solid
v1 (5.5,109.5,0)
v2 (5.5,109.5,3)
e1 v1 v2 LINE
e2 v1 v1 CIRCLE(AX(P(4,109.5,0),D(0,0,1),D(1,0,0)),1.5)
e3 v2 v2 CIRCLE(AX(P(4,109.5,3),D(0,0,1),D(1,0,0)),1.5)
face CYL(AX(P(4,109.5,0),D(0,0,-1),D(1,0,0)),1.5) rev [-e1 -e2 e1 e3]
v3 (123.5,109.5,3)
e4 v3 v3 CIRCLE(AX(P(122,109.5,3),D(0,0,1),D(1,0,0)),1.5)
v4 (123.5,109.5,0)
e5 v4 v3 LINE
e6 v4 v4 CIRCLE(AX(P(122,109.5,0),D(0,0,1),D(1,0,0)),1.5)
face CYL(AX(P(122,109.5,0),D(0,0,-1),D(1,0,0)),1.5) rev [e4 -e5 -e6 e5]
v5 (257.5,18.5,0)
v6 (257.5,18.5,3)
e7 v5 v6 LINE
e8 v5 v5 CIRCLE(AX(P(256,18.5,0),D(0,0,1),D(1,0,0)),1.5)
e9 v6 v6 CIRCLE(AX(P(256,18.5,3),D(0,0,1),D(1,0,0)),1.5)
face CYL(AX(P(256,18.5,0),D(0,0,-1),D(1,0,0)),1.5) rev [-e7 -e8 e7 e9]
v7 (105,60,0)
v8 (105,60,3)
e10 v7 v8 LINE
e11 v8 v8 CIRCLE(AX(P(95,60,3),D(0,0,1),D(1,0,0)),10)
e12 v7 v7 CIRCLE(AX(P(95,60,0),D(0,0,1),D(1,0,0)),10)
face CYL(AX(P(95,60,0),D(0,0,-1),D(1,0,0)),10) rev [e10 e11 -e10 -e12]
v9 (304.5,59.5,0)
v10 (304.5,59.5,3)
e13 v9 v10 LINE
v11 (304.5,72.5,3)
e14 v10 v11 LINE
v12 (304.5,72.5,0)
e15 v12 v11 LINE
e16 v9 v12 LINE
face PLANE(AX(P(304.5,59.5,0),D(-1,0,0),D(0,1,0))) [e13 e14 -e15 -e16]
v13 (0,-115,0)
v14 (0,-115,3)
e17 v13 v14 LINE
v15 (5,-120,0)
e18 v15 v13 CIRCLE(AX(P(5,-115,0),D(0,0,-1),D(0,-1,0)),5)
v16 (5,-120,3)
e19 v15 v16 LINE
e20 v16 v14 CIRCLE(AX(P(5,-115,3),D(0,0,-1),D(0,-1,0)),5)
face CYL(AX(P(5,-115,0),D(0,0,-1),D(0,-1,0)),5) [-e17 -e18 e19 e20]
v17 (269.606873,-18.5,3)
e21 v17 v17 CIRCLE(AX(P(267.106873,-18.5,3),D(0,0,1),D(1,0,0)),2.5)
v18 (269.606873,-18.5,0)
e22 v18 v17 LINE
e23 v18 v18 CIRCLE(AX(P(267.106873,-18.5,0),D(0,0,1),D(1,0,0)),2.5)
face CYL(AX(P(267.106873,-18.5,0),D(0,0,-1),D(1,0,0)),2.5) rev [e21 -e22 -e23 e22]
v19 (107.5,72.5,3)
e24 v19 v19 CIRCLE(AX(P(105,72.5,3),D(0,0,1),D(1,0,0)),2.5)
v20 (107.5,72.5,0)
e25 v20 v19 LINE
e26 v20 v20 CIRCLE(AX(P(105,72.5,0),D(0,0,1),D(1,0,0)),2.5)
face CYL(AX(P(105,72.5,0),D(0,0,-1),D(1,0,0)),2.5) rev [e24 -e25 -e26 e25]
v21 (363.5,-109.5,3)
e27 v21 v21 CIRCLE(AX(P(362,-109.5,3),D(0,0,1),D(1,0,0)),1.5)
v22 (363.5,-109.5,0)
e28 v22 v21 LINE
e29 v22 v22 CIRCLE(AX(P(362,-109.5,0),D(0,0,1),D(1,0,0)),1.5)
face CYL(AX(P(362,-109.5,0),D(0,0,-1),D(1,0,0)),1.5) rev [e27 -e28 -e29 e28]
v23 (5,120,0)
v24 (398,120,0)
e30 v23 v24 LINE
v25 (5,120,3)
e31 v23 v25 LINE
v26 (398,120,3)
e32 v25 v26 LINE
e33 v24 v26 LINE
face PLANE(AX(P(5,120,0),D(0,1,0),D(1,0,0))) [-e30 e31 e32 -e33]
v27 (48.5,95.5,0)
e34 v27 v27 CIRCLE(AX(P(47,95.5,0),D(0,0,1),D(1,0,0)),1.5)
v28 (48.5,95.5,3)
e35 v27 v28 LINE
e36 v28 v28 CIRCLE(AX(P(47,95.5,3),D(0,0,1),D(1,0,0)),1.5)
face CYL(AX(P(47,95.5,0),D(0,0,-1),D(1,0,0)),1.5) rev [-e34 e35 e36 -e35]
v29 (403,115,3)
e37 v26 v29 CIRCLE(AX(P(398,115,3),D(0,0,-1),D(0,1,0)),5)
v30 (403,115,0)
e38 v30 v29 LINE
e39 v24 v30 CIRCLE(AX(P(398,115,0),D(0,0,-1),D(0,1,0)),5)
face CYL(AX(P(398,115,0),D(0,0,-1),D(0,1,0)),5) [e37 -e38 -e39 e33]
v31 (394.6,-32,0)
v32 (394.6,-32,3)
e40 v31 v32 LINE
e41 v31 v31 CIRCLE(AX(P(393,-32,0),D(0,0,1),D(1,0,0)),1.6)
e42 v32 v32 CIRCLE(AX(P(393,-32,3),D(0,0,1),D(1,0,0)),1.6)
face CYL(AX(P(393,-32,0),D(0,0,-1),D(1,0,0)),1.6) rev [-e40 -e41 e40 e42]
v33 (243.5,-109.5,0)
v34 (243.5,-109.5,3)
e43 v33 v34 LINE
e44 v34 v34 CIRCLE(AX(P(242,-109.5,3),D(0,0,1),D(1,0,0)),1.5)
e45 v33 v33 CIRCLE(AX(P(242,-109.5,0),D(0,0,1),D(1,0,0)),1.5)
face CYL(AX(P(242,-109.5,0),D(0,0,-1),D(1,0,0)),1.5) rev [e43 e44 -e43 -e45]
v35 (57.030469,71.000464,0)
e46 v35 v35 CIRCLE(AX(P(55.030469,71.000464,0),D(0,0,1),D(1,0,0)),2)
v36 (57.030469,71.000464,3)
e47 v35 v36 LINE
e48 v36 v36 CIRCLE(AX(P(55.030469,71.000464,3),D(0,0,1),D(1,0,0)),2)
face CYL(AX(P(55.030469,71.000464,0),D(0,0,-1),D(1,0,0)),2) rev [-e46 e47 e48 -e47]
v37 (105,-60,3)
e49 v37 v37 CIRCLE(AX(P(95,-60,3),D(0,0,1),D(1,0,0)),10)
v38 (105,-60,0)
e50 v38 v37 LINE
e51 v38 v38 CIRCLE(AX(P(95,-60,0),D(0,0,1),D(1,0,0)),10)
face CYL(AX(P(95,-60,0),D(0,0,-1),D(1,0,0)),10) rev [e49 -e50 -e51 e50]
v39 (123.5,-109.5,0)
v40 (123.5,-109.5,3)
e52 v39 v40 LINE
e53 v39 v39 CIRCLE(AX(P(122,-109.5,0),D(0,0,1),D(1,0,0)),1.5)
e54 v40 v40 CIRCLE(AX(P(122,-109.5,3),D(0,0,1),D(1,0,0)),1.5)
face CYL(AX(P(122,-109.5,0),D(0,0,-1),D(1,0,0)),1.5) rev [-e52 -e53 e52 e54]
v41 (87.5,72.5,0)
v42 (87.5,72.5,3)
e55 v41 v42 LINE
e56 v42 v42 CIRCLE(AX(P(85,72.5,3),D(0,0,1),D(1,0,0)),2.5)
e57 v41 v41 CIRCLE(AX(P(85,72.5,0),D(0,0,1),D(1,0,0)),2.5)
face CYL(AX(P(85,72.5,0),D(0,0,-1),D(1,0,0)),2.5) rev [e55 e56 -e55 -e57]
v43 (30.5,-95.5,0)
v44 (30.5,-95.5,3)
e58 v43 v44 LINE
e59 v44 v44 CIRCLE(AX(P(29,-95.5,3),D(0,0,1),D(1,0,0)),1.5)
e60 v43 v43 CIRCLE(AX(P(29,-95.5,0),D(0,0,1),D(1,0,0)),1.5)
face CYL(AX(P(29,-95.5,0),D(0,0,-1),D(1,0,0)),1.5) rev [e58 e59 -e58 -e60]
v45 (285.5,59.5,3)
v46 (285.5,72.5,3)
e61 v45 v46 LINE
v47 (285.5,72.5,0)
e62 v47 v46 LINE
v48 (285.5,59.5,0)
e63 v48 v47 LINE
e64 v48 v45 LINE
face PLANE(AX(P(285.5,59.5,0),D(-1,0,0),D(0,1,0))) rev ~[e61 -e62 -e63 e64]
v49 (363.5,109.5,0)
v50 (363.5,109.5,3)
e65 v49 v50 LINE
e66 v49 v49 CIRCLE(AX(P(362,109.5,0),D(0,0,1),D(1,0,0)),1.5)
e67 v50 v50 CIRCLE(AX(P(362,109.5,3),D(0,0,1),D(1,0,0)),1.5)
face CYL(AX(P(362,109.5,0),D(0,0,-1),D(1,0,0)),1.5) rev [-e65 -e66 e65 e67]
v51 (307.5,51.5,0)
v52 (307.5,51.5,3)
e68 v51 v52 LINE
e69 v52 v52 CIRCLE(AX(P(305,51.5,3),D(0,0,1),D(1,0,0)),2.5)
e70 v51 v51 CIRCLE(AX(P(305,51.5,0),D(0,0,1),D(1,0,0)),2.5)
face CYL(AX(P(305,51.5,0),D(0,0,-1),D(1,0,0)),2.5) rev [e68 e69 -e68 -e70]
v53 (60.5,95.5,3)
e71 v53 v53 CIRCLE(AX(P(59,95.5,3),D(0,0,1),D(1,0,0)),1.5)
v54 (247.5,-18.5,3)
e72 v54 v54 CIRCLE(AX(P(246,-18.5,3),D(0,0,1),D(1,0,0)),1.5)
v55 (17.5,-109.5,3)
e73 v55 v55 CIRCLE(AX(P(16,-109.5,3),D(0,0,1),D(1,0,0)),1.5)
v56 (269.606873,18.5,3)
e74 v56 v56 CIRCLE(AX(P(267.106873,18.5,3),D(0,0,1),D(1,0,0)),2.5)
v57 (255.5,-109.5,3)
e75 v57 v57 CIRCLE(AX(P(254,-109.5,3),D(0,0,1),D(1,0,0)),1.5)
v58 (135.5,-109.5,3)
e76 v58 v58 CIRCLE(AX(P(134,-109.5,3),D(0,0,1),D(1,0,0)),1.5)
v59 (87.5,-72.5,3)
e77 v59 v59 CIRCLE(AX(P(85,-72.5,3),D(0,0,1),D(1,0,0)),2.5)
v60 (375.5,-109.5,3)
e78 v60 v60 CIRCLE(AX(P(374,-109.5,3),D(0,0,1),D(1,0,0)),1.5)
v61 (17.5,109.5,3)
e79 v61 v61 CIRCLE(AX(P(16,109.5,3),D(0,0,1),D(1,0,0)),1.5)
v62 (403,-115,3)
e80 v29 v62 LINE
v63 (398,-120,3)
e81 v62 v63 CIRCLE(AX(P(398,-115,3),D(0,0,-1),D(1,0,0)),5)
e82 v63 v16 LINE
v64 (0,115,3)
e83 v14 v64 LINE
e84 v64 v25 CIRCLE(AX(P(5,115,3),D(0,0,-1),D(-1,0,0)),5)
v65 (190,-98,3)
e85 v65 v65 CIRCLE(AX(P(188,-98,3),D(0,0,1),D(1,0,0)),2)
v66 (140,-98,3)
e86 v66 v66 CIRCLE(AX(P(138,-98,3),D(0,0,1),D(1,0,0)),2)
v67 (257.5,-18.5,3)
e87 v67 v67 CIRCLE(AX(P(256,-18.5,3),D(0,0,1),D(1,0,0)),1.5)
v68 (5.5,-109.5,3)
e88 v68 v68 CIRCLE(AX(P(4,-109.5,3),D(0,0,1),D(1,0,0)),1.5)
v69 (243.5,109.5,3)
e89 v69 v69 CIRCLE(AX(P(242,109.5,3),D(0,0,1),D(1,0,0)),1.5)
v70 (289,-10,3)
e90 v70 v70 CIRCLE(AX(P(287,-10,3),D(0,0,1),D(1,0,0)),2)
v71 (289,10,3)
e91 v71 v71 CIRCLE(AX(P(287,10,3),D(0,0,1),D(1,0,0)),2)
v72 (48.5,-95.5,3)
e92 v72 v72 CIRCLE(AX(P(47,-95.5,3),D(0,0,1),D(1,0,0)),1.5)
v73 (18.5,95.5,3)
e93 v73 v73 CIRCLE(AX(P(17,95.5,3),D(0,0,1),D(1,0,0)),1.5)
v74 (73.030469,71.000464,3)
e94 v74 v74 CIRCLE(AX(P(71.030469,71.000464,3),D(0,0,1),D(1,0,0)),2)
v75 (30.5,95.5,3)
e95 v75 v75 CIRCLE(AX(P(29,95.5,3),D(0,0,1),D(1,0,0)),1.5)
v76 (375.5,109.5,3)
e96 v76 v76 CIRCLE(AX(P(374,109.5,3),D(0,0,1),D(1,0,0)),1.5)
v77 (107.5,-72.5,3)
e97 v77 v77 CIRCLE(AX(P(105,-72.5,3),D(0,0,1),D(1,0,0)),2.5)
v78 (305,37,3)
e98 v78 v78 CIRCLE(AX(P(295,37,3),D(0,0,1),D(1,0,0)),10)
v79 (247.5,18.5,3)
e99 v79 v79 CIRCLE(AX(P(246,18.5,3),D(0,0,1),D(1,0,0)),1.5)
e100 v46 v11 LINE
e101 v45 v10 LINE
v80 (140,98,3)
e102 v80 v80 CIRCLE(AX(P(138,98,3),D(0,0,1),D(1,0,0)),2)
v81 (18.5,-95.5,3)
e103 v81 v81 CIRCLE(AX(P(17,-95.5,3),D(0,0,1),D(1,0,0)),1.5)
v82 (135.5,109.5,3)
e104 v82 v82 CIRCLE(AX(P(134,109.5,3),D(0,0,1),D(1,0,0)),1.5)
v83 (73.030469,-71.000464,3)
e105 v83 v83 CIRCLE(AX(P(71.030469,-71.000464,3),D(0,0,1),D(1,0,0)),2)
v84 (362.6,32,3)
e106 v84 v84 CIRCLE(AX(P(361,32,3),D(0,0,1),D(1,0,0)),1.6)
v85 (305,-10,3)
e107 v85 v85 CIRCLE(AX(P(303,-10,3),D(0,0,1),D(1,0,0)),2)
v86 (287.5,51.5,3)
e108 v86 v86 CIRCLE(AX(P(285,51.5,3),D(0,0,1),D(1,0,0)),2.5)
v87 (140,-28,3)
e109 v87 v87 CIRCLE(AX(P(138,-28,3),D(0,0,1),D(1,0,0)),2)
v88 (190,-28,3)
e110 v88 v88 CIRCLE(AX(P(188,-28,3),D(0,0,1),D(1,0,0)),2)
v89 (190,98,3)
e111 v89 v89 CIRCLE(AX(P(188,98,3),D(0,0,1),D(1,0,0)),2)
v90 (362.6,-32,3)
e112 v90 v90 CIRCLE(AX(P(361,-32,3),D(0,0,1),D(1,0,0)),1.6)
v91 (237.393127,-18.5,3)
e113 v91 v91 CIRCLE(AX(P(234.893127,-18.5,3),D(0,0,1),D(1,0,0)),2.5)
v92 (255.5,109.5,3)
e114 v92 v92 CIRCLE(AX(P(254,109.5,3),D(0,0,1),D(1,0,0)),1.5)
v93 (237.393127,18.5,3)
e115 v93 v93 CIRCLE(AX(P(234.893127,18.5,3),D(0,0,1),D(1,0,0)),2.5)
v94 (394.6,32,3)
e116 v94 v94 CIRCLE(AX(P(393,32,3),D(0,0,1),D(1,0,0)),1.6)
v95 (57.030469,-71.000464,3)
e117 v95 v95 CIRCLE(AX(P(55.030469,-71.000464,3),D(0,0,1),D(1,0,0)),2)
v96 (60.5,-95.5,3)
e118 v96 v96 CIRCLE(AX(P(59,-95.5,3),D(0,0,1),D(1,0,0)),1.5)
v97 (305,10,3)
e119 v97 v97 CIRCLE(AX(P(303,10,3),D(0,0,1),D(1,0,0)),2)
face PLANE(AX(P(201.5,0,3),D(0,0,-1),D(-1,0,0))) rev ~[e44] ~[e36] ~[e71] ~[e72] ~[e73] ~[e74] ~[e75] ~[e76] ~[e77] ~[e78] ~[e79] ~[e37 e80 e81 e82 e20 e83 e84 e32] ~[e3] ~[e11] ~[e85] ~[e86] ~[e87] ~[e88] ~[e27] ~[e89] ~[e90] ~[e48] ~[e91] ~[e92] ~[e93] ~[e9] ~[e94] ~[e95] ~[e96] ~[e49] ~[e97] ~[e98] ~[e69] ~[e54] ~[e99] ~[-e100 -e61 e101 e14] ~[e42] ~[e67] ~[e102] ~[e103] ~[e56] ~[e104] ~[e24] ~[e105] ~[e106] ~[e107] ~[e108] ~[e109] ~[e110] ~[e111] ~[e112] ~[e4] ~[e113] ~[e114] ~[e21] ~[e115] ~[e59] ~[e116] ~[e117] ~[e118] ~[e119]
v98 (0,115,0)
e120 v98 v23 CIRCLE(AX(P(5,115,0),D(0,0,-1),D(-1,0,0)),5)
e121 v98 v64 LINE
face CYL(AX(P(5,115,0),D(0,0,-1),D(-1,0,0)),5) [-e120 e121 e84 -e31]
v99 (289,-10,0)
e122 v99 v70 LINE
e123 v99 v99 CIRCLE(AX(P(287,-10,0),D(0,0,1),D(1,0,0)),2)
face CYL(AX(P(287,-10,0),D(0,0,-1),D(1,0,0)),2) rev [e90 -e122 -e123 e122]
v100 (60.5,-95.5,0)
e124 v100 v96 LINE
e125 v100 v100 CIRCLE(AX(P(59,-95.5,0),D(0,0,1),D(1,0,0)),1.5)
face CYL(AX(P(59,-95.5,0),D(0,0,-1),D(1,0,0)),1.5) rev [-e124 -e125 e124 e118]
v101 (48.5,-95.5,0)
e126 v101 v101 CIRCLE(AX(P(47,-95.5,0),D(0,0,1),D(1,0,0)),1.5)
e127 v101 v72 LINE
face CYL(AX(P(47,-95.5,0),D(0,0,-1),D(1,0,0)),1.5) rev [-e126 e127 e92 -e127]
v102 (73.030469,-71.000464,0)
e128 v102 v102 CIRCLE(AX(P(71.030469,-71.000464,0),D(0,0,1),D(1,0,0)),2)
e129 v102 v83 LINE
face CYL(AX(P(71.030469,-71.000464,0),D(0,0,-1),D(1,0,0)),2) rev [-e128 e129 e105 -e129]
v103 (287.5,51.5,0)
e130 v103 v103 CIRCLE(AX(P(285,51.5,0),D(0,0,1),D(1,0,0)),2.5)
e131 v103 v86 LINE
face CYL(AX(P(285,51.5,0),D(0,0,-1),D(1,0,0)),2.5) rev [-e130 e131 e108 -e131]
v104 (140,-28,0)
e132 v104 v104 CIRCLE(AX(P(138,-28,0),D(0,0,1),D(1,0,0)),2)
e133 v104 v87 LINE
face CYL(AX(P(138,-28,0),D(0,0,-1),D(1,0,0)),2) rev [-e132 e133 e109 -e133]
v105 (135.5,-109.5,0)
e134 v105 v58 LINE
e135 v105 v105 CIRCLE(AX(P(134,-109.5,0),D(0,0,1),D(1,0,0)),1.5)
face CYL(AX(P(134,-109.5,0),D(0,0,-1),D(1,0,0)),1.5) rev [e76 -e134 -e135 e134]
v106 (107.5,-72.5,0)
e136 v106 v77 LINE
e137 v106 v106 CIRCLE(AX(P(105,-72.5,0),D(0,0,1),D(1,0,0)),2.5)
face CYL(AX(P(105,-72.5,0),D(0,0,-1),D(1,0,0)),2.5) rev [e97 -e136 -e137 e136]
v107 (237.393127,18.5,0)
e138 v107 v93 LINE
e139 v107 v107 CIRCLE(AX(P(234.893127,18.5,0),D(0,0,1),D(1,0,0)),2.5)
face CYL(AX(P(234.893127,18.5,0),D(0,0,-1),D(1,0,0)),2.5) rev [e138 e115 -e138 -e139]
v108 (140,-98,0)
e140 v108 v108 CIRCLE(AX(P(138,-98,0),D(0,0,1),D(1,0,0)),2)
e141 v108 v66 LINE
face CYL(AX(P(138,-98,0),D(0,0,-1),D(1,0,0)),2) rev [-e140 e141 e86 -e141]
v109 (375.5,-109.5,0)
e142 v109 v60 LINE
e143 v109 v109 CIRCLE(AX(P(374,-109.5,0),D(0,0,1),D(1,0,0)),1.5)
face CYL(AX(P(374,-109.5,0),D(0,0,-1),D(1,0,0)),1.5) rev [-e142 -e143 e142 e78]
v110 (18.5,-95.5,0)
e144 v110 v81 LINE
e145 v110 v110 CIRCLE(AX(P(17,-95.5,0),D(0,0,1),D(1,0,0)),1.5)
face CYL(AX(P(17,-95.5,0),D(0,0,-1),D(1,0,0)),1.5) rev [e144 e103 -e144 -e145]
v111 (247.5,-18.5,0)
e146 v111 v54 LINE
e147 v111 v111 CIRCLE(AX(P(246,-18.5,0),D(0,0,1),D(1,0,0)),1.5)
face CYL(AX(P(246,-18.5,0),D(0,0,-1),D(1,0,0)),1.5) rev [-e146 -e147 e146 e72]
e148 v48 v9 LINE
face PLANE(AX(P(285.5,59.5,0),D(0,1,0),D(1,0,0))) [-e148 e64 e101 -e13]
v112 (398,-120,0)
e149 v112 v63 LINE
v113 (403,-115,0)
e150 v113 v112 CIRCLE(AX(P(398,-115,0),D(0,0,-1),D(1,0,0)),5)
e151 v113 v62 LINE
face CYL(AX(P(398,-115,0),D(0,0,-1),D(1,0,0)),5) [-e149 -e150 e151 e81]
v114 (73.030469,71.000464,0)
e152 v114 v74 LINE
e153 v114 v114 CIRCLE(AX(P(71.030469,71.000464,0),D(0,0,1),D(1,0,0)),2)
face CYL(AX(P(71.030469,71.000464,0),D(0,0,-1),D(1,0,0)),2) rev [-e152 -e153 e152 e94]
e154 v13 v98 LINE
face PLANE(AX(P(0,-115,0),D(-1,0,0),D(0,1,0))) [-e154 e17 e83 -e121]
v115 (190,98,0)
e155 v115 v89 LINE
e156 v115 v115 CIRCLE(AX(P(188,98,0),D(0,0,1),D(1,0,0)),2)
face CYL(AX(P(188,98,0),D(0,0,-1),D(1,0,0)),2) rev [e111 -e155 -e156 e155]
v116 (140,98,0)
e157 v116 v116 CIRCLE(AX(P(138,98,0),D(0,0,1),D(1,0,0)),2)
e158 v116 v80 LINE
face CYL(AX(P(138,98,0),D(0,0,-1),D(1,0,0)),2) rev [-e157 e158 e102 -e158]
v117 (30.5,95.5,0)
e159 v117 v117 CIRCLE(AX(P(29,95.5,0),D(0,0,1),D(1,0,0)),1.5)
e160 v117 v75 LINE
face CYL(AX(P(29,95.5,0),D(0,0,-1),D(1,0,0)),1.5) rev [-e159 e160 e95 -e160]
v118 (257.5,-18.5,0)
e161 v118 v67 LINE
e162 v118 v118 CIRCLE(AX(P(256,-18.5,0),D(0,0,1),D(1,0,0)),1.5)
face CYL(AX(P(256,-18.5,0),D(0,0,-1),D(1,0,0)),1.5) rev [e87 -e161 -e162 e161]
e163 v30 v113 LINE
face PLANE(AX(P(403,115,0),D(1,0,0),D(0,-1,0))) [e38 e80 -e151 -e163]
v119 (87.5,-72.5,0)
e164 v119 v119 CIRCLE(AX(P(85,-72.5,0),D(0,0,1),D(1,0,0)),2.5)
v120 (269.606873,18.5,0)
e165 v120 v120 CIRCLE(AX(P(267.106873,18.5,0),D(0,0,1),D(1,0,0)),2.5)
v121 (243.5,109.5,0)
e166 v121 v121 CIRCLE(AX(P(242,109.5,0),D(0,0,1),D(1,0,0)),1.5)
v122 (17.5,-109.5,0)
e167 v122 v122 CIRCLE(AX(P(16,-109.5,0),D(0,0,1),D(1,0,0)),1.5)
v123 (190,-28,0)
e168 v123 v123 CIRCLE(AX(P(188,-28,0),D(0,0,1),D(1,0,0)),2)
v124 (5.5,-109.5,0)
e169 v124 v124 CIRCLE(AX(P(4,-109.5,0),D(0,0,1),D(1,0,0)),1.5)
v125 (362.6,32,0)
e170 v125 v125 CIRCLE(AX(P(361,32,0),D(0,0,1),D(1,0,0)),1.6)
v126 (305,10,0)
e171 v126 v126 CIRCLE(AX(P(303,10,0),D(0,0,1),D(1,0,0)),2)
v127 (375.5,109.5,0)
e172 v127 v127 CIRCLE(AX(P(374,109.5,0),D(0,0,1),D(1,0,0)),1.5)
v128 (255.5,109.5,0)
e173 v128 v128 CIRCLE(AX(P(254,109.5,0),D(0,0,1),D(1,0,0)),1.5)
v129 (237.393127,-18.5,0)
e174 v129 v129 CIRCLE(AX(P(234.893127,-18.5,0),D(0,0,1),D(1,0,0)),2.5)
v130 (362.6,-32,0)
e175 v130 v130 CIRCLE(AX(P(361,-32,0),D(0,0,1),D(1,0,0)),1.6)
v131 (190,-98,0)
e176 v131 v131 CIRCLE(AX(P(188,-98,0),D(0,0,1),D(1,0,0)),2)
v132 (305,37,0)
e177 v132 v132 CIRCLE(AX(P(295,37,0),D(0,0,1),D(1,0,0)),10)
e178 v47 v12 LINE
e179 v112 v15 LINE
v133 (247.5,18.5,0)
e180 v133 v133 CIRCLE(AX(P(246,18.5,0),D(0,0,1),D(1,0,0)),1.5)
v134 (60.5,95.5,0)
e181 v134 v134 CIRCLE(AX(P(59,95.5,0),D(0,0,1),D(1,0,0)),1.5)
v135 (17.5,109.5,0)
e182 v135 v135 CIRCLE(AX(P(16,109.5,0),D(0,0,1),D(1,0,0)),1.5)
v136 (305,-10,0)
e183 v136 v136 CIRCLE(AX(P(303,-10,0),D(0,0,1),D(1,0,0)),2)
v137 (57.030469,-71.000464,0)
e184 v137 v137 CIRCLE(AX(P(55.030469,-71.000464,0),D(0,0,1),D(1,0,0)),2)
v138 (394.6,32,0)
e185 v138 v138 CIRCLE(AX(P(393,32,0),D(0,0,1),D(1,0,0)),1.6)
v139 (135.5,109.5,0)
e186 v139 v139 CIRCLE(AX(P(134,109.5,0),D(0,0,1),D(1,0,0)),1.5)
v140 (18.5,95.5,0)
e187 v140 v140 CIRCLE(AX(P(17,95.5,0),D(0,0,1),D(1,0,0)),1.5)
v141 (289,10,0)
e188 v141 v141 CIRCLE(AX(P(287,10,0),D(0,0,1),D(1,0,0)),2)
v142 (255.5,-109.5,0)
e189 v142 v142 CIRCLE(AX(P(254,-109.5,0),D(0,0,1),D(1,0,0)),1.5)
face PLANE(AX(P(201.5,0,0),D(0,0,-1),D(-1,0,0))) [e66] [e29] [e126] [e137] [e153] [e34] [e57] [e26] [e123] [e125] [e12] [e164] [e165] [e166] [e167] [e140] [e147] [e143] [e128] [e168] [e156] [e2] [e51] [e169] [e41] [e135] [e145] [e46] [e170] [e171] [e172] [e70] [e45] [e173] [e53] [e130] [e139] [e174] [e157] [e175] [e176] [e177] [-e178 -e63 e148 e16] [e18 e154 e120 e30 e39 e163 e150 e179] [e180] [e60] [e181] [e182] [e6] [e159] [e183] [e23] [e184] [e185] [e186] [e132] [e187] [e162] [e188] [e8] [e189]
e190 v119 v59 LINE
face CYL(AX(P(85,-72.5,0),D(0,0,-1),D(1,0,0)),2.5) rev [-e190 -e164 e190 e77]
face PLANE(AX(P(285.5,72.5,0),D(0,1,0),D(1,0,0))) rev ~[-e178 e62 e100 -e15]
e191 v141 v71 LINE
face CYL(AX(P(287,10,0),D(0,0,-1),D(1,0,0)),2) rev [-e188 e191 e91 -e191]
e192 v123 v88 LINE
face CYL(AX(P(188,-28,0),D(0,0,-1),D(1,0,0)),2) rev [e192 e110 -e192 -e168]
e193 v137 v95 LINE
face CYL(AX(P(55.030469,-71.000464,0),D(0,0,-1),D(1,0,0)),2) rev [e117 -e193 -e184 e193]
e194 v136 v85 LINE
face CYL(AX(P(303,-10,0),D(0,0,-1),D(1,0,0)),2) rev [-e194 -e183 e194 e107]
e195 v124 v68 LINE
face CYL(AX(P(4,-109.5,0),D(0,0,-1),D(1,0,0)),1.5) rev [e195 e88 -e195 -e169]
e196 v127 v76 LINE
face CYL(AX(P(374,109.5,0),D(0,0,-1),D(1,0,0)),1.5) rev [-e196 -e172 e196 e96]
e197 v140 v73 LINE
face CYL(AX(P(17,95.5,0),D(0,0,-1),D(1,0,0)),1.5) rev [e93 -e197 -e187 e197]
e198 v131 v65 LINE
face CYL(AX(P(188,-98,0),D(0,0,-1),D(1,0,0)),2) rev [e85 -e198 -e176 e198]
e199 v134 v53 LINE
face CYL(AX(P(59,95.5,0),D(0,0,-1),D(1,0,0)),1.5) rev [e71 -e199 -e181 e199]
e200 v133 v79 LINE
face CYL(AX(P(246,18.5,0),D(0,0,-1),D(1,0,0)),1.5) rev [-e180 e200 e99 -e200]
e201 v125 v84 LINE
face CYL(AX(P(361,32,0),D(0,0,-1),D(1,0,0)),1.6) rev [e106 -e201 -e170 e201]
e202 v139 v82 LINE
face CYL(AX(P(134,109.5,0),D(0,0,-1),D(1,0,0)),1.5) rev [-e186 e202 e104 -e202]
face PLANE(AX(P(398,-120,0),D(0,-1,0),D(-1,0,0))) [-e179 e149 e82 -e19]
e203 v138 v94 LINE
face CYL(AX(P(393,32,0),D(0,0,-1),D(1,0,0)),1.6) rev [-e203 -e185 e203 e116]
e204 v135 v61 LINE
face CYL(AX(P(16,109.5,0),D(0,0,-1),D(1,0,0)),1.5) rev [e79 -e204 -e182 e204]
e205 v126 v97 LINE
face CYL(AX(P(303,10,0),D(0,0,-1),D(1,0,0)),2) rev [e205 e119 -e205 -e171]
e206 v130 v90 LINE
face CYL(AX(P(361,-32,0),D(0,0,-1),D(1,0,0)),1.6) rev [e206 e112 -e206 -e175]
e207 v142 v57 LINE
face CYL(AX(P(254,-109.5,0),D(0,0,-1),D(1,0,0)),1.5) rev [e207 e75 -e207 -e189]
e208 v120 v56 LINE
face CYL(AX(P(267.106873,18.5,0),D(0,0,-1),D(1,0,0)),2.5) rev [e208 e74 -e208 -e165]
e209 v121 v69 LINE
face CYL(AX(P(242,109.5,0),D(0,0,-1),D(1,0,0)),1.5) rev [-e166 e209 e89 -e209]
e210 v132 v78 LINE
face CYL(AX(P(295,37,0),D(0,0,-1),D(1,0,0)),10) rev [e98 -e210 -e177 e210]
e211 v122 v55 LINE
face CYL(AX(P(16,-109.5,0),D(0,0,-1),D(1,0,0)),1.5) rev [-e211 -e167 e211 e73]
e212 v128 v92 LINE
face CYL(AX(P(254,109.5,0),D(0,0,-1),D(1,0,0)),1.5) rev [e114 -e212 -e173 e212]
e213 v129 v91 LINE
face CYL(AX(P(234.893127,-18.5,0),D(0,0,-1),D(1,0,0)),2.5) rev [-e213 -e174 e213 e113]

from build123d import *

# Parameters (mm, degrees)
MODEL_R         = 1.5
MODEL_R_2       = 1.6
MODEL_R_3       = 2
MODEL_R_4       = 10
MODEL_R_5       = 2.5
MODEL_W         = 19
MODEL_H         = 13
EXTRUDE_1_DEPTH = 3


with BuildPart() as part:
    # Model → 凸台-拉伸1 (new body)
    with BuildSketch(Plane.XY):
        with BuildLine():
            Line((5, 120), (398, 120))
            ThreePointArc((398, 120), (401.535533906, 118.535533906), (403, 115))
            Line((403, 115), (403, -115))
            ThreePointArc((403, -115), (401.535533906, -118.535533906), (398, -120))
            Line((398, -120), (5, -120))
            ThreePointArc((5, -120), (1.464466094, -118.535533906), (0, -115))
            Line((0, -115), (0, 115))
            ThreePointArc((0, 115), (1.464466094, 118.535533906), (5, 120))
        make_face()
        with Locations((17, 95.5)):
            Circle(MODEL_R, mode=Mode.SUBTRACT)
        with Locations((29, 95.5)):
            Circle(MODEL_R, mode=Mode.SUBTRACT)
        with Locations((47, 95.5)):
            Circle(MODEL_R, mode=Mode.SUBTRACT)
        with Locations((59, 95.5)):
            Circle(MODEL_R, mode=Mode.SUBTRACT)
        with Locations((17, -95.5)):
            Circle(MODEL_R, mode=Mode.SUBTRACT)
        with Locations((29, -95.5)):
            Circle(MODEL_R, mode=Mode.SUBTRACT)
        with Locations((47, -95.5)):
            Circle(MODEL_R, mode=Mode.SUBTRACT)
        with Locations((59, -95.5)):
            Circle(MODEL_R, mode=Mode.SUBTRACT)
        with Locations((4, 109.5)):
            Circle(MODEL_R, mode=Mode.SUBTRACT)
        with Locations((16, 109.5)):
            Circle(MODEL_R, mode=Mode.SUBTRACT)
        with Locations((4, -109.5)):
            Circle(MODEL_R, mode=Mode.SUBTRACT)
        with Locations((16, -109.5)):
            Circle(MODEL_R, mode=Mode.SUBTRACT)
        with Locations((362, 109.5)):
            Circle(MODEL_R, mode=Mode.SUBTRACT)
        with Locations((374, 109.5)):
            Circle(MODEL_R, mode=Mode.SUBTRACT)
        with Locations((362, -109.5)):
            Circle(MODEL_R, mode=Mode.SUBTRACT)
        with Locations((374, -109.5)):
            Circle(MODEL_R, mode=Mode.SUBTRACT)
        with Locations((361, 32)):
            Circle(MODEL_R_2, mode=Mode.SUBTRACT)
        with Locations((393, 32)):
            Circle(MODEL_R_2, mode=Mode.SUBTRACT)
        with Locations((393, -32)):
            Circle(MODEL_R_2, mode=Mode.SUBTRACT)
        with Locations((361, -32)):
            Circle(MODEL_R_2, mode=Mode.SUBTRACT)
        with Locations((188, 98)):
            Circle(MODEL_R_3, mode=Mode.SUBTRACT)
        with Locations((138, 98)):
            Circle(MODEL_R_3, mode=Mode.SUBTRACT)
        with Locations((254, 109.5)):
            Circle(MODEL_R, mode=Mode.SUBTRACT)
        with Locations((242, 109.5)):
            Circle(MODEL_R, mode=Mode.SUBTRACT)
        with Locations((188, -98)):
            Circle(MODEL_R_3, mode=Mode.SUBTRACT)
        with Locations((138, -98)):
            Circle(MODEL_R_3, mode=Mode.SUBTRACT)
        with Locations((138, -28)):
            Circle(MODEL_R_3, mode=Mode.SUBTRACT)
        with Locations((188, -28)):
            Circle(MODEL_R_3, mode=Mode.SUBTRACT)
        with Locations((295, 37)):
            Circle(MODEL_R_4, mode=Mode.SUBTRACT)
        with Locations((285, 51.5)):
            Circle(MODEL_R_5, mode=Mode.SUBTRACT)
        with Locations((305, 51.5)):
            Circle(MODEL_R_5, mode=Mode.SUBTRACT)
        with Locations((256, 18.5)):
            Circle(MODEL_R, mode=Mode.SUBTRACT)
        with Locations((246, 18.5)):
            Circle(MODEL_R, mode=Mode.SUBTRACT)
        with Locations((256, -18.5)):
            Circle(MODEL_R, mode=Mode.SUBTRACT)
        with Locations((246, -18.5)):
            Circle(MODEL_R, mode=Mode.SUBTRACT)
        with Locations((95, 60)):
            Circle(MODEL_R_4, mode=Mode.SUBTRACT)
        with Locations((105, 72.5)):
            Circle(MODEL_R_5, mode=Mode.SUBTRACT)
        with Locations((85, 72.5)):
            Circle(MODEL_R_5, mode=Mode.SUBTRACT)
        with Locations((95, -60)):
            Circle(MODEL_R_4, mode=Mode.SUBTRACT)
        with Locations((105, -72.5)):
            Circle(MODEL_R_5, mode=Mode.SUBTRACT)
        with Locations((85, -72.5)):
            Circle(MODEL_R_5, mode=Mode.SUBTRACT)
        with Locations((134, 109.5)):
            Circle(MODEL_R, mode=Mode.SUBTRACT)
        with Locations((122, 109.5)):
            Circle(MODEL_R, mode=Mode.SUBTRACT)
        with Locations((287, 10)):
            Circle(MODEL_R_3, mode=Mode.SUBTRACT)
        with Locations((303, 10)):
            Circle(MODEL_R_3, mode=Mode.SUBTRACT)
        with Locations((303, -10)):
            Circle(MODEL_R_3, mode=Mode.SUBTRACT)
        with Locations((287, -10)):
            Circle(MODEL_R_3, mode=Mode.SUBTRACT)
        with Locations((55.030468906, 71.000464285)):
            Circle(MODEL_R_3, mode=Mode.SUBTRACT)
        with Locations((71.030468906, 71.000464285)):
            Circle(MODEL_R_3, mode=Mode.SUBTRACT)
        with Locations((55.030468906, -71.000464285)):
            Circle(MODEL_R_3, mode=Mode.SUBTRACT)
        with Locations((71.030468906, -71.000464285)):
            Circle(MODEL_R_3, mode=Mode.SUBTRACT)
        with Locations((254, -109.5)):
            Circle(MODEL_R, mode=Mode.SUBTRACT)
        with Locations((242, -109.5)):
            Circle(MODEL_R, mode=Mode.SUBTRACT)
        with Locations((134, -109.5)):
            Circle(MODEL_R, mode=Mode.SUBTRACT)
        with Locations((122, -109.5)):
            Circle(MODEL_R, mode=Mode.SUBTRACT)
        with Locations((267.106872725, 18.5)):
            Circle(MODEL_R_5, mode=Mode.SUBTRACT)
        with Locations((234.893127275, 18.5)):
            Circle(MODEL_R_5, mode=Mode.SUBTRACT)
        with Locations((267.106872725, -18.5)):
            Circle(MODEL_R_5, mode=Mode.SUBTRACT)
        with Locations((234.893127275, -18.5)):
            Circle(MODEL_R_5, mode=Mode.SUBTRACT)
        with Locations((295, 66)):
            Rectangle(MODEL_W, MODEL_H, mode=Mode.SUBTRACT)
    extrude(amount=EXTRUDE_1_DEPTH)


solid = part.part
